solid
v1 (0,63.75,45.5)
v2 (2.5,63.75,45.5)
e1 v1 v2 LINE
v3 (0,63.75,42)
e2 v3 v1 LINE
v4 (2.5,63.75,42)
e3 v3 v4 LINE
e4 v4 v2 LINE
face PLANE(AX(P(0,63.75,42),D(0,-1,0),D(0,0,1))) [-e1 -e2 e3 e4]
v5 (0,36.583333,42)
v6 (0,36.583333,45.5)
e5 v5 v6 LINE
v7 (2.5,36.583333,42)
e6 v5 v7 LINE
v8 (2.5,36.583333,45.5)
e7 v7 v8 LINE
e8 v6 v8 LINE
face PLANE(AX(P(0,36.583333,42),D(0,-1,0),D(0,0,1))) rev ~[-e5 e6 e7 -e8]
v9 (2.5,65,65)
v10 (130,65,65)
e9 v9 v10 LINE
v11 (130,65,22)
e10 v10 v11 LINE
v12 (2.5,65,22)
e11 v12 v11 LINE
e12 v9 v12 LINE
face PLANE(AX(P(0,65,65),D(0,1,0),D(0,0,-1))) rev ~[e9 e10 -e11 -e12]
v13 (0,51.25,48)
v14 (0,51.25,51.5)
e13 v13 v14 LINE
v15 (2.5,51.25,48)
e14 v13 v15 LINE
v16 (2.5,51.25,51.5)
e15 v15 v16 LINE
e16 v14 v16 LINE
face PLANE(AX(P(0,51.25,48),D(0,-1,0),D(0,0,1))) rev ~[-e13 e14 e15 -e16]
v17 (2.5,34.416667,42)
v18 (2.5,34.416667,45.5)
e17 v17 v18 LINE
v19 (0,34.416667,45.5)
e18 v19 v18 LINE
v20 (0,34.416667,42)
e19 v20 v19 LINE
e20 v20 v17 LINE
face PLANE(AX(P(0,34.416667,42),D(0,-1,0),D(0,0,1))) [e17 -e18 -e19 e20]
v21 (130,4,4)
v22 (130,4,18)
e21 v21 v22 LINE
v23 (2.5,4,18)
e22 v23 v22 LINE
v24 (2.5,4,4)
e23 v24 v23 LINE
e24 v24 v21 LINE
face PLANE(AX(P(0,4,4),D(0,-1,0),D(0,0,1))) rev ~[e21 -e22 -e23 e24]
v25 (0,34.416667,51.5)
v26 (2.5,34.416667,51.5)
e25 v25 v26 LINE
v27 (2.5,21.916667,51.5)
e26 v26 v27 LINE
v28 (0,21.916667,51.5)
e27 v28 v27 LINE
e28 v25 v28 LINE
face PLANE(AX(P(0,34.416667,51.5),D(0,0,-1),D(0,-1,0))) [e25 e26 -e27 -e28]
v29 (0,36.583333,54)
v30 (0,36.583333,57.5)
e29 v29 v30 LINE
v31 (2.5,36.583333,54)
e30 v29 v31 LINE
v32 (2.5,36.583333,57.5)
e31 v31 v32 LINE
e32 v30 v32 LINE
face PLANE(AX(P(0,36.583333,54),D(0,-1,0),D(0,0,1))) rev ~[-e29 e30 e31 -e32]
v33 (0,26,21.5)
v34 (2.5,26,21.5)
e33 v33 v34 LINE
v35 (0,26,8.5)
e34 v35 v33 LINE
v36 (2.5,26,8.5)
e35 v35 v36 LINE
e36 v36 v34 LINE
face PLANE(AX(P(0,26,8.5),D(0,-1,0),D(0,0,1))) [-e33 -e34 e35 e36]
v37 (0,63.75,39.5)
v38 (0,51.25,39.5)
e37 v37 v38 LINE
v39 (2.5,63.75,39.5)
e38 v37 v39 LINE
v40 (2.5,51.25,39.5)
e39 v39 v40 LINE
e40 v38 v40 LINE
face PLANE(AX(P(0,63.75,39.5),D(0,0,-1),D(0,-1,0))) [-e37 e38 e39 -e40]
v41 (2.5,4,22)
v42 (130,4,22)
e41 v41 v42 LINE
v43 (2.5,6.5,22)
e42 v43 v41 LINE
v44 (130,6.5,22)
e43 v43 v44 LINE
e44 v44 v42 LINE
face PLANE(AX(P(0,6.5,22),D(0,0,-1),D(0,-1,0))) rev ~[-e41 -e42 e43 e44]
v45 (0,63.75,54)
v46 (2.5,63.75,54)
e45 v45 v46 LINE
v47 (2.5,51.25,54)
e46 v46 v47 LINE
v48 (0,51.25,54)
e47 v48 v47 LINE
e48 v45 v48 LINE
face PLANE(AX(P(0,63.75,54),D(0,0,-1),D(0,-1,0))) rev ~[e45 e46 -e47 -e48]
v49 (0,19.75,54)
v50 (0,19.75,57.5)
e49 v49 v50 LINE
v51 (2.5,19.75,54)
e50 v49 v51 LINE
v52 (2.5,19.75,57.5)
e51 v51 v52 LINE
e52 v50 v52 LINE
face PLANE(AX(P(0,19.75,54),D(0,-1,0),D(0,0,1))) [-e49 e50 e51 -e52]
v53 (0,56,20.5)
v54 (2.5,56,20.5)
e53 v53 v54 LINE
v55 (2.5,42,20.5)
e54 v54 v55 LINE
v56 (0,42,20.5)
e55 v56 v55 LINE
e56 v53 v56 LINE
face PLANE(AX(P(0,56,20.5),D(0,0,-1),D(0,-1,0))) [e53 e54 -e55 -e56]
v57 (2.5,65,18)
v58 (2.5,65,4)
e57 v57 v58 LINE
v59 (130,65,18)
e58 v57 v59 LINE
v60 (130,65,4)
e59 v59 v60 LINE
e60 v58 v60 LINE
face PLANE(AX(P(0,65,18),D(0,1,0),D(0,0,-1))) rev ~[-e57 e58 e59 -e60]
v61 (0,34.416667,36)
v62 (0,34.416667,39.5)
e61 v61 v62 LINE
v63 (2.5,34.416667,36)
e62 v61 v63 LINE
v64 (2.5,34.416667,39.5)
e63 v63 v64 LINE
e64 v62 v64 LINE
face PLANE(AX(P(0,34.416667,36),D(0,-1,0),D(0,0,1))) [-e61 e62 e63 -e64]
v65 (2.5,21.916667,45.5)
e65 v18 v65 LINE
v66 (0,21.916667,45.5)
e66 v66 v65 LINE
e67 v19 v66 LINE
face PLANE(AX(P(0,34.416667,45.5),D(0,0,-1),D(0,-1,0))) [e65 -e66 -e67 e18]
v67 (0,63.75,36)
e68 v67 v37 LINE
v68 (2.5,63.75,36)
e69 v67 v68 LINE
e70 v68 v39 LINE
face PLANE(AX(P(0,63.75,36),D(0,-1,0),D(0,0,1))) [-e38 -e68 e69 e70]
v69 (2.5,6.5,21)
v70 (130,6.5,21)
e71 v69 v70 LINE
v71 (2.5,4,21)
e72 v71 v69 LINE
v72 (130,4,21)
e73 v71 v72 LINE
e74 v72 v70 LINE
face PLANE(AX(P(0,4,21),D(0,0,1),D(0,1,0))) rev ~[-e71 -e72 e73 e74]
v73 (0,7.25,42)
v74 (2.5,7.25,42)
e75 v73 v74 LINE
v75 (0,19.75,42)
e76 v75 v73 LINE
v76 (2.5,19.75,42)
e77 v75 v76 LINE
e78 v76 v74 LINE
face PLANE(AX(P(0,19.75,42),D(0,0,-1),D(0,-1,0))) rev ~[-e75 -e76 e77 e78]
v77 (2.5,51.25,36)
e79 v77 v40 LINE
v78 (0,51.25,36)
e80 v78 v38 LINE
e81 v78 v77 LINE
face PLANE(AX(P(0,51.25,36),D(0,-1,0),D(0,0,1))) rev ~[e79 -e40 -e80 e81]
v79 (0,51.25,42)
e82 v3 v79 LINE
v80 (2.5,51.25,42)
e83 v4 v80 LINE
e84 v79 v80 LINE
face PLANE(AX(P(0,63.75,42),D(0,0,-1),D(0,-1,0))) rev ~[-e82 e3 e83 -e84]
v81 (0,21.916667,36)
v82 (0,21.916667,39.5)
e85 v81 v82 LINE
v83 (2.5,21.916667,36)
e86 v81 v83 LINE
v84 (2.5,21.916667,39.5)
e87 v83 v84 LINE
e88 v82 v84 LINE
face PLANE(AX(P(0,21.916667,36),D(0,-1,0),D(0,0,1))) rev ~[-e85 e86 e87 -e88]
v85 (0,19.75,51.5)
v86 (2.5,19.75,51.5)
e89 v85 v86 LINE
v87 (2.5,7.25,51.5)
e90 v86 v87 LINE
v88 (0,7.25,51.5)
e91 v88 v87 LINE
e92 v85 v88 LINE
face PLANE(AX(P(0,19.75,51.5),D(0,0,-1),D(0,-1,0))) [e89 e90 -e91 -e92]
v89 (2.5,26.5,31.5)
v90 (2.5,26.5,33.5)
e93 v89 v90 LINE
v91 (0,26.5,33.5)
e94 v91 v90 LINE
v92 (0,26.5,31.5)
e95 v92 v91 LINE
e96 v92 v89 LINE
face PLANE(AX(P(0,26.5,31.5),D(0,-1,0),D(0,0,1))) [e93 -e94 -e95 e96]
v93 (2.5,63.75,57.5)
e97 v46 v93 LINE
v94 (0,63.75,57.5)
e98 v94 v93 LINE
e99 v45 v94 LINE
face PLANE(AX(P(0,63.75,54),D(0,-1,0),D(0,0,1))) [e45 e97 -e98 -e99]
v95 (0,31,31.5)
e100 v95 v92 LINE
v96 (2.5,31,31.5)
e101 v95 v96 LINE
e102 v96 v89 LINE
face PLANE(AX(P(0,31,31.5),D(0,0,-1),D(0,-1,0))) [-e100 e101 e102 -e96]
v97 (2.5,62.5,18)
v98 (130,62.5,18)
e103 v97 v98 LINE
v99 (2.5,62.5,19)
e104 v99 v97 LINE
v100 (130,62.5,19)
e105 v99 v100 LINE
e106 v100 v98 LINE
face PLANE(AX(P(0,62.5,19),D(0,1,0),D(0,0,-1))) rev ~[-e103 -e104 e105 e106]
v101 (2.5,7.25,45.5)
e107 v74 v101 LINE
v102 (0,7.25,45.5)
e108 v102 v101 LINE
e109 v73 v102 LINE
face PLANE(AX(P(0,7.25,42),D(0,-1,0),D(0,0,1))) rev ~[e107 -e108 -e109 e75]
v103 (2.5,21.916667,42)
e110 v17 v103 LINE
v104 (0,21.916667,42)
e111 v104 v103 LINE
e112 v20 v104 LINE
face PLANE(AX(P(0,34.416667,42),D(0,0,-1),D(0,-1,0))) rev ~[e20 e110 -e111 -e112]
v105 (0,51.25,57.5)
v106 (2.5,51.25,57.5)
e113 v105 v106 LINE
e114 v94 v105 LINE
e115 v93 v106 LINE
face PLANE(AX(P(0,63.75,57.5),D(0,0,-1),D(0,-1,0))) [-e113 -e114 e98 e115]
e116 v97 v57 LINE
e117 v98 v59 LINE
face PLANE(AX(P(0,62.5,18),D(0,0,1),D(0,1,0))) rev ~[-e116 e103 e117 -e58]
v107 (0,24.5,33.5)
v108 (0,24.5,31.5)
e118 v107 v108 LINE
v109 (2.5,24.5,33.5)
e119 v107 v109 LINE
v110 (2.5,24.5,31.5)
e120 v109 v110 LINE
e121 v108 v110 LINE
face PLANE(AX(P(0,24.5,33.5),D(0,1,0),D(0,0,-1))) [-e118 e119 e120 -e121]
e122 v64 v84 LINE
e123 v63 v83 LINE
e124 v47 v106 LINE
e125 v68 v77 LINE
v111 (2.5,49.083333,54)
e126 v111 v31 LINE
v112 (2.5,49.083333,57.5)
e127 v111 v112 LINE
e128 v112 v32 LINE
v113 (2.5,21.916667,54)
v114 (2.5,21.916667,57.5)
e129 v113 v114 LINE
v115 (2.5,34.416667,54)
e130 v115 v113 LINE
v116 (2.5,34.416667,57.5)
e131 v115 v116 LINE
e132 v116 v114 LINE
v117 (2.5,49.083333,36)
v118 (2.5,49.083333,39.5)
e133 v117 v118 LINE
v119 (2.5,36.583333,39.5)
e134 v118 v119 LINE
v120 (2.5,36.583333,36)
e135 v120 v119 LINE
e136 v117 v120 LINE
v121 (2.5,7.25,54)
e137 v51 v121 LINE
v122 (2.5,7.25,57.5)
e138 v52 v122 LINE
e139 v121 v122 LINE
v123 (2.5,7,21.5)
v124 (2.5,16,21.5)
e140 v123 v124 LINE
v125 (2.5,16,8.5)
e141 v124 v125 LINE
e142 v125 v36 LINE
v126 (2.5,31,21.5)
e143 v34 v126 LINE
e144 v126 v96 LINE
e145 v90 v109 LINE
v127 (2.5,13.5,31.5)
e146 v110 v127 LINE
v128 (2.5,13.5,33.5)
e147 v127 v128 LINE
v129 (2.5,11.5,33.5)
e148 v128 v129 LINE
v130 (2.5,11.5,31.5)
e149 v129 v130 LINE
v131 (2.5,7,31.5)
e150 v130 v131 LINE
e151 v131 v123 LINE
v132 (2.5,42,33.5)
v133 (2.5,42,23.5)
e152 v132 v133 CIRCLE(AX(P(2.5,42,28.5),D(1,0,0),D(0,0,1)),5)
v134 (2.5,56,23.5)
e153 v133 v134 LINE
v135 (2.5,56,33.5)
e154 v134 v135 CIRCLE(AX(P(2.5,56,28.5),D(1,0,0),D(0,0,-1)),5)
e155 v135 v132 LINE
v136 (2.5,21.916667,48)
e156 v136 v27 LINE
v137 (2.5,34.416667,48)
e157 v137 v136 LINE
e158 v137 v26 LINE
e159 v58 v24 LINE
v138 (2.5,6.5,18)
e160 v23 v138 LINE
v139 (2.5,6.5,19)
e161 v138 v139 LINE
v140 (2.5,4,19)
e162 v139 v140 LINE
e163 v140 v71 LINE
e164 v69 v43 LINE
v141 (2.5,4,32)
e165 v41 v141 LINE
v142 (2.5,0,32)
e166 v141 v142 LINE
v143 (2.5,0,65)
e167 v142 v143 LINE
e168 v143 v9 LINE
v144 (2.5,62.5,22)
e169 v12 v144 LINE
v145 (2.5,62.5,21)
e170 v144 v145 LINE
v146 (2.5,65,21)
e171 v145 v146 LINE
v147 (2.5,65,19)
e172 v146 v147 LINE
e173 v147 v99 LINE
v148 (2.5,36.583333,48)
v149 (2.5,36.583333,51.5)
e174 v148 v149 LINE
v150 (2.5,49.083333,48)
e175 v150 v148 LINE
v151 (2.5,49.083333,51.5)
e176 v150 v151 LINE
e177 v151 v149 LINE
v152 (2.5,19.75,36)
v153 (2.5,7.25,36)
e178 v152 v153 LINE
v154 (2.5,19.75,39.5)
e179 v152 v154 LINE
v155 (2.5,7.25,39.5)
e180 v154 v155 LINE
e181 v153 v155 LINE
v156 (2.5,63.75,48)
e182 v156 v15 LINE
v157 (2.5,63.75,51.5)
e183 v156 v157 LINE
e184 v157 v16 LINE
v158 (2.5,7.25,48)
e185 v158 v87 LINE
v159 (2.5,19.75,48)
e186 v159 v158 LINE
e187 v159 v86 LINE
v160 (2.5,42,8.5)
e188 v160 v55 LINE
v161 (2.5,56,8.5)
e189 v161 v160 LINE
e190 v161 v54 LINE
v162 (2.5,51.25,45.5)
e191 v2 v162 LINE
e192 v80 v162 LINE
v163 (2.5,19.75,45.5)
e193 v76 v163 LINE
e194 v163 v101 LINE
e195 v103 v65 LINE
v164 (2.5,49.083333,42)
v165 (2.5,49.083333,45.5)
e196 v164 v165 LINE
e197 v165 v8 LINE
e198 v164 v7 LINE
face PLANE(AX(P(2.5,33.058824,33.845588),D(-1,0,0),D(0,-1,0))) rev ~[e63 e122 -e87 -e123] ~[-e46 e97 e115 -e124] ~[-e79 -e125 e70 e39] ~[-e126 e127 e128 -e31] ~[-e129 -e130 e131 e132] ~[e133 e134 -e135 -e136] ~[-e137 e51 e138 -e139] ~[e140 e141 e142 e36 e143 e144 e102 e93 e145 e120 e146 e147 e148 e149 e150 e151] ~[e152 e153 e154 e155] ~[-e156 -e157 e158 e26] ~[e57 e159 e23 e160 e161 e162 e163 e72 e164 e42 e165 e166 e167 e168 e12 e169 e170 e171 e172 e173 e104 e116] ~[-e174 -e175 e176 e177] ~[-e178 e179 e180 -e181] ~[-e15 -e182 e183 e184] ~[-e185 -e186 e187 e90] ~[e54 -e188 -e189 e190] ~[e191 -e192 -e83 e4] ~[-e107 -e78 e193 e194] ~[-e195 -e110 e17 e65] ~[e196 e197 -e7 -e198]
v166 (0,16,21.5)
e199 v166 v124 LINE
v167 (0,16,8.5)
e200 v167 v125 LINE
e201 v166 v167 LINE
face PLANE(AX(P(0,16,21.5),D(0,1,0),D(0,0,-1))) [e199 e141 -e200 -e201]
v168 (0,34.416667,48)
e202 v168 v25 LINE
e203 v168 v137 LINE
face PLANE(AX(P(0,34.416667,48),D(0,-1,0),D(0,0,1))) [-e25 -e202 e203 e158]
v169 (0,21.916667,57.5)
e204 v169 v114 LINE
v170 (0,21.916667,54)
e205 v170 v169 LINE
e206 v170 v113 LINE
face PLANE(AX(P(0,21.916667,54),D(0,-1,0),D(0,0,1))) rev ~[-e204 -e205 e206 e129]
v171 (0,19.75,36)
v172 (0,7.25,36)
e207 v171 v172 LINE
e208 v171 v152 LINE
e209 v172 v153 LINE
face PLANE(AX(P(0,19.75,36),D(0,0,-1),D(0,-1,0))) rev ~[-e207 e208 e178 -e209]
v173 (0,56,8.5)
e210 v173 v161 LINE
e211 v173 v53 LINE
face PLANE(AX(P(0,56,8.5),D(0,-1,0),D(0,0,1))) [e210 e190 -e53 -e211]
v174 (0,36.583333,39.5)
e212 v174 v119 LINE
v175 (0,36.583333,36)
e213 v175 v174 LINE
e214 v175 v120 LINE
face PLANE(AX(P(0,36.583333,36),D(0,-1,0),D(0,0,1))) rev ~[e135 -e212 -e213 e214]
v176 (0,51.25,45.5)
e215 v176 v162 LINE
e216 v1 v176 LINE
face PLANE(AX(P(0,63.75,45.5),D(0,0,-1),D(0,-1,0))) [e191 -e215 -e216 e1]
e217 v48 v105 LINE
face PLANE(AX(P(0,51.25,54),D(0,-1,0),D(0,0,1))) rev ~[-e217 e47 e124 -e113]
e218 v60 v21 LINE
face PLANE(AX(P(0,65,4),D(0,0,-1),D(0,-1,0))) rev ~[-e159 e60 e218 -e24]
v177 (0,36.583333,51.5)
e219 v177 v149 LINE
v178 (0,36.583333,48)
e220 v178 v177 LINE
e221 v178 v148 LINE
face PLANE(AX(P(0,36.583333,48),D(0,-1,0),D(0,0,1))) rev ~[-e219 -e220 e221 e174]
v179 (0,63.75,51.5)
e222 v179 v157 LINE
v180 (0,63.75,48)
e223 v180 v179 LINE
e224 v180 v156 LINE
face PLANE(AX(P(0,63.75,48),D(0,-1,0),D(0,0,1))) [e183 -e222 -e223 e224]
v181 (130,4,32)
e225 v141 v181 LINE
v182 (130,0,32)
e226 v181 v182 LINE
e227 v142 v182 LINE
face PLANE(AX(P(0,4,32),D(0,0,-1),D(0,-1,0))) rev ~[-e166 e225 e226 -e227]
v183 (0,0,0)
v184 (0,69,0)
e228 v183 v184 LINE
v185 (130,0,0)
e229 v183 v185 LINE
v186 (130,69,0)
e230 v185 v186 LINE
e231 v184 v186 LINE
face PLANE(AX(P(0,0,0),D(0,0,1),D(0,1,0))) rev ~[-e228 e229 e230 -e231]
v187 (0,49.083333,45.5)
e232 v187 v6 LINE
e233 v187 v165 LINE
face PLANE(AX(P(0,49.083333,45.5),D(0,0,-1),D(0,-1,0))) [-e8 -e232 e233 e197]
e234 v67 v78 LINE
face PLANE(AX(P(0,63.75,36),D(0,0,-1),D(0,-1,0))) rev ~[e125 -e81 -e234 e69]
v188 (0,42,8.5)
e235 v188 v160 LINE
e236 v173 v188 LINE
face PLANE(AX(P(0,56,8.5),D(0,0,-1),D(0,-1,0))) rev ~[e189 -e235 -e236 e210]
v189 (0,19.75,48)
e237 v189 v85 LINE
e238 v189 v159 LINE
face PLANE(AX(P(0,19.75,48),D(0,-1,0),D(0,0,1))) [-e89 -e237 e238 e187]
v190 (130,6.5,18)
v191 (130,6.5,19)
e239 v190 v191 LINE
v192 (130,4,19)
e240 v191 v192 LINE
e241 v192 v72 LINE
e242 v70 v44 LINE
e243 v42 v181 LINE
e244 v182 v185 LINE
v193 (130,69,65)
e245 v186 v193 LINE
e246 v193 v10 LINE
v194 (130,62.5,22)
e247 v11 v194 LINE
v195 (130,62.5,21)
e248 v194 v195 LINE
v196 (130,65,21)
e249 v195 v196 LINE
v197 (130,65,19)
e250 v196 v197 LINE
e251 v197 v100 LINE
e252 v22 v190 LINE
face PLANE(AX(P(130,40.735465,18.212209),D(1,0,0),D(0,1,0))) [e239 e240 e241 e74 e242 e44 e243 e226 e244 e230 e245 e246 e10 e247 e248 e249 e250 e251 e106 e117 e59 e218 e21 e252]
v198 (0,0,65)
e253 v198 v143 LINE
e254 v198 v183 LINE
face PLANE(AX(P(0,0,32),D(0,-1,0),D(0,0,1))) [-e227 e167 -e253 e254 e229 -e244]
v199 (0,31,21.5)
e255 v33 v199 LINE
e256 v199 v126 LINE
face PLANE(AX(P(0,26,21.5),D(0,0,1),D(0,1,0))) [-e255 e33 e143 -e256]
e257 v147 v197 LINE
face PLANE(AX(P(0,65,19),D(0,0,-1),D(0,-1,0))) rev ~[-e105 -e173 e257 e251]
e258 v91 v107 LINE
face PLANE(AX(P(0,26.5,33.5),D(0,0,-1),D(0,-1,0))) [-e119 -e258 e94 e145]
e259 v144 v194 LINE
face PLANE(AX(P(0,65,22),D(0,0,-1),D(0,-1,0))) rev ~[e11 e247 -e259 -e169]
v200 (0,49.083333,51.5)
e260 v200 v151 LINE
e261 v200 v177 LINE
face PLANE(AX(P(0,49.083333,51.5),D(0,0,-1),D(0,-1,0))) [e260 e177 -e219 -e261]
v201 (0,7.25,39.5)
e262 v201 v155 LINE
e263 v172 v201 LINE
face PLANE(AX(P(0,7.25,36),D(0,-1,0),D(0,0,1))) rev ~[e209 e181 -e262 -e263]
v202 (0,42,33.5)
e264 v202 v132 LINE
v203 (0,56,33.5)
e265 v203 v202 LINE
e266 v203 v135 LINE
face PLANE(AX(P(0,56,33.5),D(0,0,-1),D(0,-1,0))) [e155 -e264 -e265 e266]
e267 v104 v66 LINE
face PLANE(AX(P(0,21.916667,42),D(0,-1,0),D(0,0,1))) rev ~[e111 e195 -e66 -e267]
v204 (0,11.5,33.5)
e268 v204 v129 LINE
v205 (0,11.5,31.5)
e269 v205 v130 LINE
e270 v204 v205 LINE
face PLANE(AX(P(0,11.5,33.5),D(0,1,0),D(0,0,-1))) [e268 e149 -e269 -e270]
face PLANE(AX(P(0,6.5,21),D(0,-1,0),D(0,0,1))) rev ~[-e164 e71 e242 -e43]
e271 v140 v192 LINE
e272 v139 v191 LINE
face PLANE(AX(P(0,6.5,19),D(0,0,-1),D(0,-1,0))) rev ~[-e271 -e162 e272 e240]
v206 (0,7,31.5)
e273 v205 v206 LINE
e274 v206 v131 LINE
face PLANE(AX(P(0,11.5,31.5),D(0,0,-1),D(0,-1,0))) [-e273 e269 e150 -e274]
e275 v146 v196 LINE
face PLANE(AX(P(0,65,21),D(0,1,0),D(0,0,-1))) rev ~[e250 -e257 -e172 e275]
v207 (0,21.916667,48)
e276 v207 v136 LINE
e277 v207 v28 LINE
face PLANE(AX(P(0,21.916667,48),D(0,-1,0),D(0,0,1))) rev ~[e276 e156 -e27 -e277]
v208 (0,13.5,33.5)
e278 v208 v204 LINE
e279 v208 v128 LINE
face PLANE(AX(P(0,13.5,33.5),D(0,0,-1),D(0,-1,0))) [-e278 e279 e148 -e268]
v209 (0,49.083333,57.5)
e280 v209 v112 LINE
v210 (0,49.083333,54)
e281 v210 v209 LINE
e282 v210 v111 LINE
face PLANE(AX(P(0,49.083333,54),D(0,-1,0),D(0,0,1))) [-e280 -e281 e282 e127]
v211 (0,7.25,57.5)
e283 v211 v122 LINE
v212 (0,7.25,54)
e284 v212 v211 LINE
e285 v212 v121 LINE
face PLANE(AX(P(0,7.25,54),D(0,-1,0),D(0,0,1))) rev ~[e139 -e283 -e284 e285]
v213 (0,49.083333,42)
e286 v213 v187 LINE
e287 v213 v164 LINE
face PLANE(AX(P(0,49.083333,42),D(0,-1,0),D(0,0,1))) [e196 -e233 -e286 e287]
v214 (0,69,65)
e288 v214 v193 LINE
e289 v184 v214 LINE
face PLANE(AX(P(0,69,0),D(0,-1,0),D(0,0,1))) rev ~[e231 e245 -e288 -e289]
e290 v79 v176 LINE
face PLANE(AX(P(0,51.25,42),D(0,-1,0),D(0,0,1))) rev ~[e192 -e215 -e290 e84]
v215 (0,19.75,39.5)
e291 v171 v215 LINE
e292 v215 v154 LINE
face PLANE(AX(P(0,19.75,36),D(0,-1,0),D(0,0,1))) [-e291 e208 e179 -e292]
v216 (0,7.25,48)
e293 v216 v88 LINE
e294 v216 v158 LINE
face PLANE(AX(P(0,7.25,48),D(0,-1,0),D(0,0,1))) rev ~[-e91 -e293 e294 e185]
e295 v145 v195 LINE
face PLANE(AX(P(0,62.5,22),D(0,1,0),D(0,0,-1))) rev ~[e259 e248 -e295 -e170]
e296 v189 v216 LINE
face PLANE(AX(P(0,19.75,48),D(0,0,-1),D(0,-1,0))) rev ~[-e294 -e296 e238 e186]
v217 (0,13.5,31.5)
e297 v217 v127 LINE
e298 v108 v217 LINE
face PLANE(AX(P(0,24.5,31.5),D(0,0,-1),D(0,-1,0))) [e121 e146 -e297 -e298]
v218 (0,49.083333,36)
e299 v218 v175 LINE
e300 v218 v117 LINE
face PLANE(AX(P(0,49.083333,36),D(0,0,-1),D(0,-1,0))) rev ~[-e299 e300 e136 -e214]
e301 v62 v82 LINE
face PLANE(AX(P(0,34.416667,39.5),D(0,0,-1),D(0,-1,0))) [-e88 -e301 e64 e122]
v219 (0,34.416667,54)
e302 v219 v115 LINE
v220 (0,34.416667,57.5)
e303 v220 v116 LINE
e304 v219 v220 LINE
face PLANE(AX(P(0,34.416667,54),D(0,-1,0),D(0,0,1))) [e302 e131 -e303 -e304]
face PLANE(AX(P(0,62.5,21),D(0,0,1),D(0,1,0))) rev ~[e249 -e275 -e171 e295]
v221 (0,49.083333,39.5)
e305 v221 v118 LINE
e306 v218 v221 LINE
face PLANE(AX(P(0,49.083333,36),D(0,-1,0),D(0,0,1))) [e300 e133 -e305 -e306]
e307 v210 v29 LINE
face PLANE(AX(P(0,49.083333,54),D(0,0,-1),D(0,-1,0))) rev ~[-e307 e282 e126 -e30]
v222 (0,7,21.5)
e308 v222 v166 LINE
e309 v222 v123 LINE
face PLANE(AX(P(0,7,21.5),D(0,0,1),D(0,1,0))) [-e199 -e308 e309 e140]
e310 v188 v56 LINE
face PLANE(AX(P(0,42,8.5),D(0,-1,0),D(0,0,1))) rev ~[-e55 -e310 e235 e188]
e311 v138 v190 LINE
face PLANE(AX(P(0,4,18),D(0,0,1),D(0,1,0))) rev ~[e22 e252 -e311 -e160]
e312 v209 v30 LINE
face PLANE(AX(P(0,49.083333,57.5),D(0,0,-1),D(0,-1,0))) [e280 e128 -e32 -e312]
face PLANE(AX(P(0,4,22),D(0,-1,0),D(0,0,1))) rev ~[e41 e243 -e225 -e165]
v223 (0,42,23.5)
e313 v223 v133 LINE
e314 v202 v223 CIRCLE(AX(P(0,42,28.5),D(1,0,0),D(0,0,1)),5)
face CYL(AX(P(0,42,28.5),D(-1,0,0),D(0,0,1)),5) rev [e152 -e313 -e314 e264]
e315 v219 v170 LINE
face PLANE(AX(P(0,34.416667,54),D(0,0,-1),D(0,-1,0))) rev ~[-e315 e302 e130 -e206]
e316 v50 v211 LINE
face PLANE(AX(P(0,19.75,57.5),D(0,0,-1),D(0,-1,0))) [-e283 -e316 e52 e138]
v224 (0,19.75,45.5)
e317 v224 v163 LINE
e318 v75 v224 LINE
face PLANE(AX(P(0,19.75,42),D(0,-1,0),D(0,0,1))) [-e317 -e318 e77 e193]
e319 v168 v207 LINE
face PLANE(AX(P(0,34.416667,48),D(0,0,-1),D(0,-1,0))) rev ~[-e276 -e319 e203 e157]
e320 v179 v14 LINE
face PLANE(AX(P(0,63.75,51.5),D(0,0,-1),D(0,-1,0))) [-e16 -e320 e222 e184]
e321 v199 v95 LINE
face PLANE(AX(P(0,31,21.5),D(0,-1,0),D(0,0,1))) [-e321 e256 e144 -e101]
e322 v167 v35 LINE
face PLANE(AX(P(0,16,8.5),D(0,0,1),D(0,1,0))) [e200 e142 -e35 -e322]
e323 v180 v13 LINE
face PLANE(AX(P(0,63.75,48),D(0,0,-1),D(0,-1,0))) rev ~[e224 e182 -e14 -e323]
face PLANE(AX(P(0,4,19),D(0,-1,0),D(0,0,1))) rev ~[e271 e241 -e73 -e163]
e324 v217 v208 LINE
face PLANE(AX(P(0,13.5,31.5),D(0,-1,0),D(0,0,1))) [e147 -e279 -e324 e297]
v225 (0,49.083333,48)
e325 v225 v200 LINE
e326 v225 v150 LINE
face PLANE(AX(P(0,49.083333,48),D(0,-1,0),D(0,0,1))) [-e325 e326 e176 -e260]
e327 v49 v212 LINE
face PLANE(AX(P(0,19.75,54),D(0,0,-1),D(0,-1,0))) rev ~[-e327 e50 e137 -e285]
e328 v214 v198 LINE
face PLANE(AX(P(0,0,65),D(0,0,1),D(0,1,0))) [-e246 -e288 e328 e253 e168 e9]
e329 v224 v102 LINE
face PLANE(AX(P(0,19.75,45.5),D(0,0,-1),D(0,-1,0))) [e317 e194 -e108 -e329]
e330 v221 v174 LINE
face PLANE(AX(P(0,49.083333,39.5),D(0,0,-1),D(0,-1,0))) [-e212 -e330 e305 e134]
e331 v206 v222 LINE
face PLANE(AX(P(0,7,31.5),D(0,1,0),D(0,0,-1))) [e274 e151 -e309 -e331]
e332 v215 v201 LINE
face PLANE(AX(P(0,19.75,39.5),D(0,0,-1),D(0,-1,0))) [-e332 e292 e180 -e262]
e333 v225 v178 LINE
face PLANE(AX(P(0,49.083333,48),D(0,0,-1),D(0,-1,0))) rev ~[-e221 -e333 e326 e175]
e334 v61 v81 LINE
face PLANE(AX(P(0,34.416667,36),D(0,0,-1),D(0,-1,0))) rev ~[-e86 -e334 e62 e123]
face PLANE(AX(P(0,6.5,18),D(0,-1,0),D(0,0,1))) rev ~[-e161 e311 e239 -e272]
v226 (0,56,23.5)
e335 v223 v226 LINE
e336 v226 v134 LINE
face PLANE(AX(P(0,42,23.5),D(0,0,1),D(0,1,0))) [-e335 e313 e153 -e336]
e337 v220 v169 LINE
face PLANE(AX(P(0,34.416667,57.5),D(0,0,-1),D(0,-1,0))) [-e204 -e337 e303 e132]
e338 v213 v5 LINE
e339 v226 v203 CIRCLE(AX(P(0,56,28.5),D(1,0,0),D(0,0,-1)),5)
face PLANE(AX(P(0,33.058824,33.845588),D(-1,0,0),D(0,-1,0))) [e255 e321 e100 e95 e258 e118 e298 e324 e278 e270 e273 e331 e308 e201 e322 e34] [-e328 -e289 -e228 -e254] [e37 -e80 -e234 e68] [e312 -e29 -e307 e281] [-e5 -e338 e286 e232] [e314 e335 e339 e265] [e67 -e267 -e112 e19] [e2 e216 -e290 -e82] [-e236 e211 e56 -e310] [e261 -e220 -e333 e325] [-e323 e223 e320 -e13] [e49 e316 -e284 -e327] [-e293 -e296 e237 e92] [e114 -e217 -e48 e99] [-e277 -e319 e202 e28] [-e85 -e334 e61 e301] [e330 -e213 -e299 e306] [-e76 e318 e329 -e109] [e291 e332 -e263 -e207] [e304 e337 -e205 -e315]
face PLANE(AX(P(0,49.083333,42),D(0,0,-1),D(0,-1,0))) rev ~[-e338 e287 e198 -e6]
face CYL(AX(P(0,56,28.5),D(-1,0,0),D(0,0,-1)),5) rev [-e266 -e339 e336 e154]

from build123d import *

# Parameters (mm, degrees)
F1_DEPTH = 130
F2_W     = 14
F2_H     = 12
F2_W_2   = 12.5
F2_H_2   = 3.5
F3_DEPTH = 2.5


with BuildPart() as f1:
    # F0 (on Right) → F1 (new body)
    with BuildSketch(Plane.YZ):
        Polygon((0, 32), (0, 0), (69, 0), (69, 65), (65, 65), (65, 22), (62.5, 22), (62.5, 21), (65, 21), (65, 19), (62.5, 19), (62.5, 18), (65, 18), (65, 4), (4, 4), (4, 18), (6.5, 18), (6.5, 19), (4, 19), (4, 21), (6.5, 21), (6.5, 22), (4, 22), (4, 32), align=None)
    extrude(amount=F1_DEPTH)

    # F2 (on face) → F3 (join)
    with BuildSketch(Plane(origin=(0, 0, 0), x_dir=(0, -1, 0), z_dir=(-1, 0, 0))):
        Polygon((-4, 32), (0, 32), (0, 65), (-65, 65), (-65, 22), (-62.5, 22), (-62.5, 21), (-65, 21), (-65, 19), (-62.5, 19), (-62.5, 18), (-65, 18), (-65, 4), (-4, 4), (-4, 18), (-6.5, 18), (-6.5, 19), (-4, 19), (-4, 21), (-6.5, 21), (-6.5, 22), (-4, 22), align=None)
        with Locations((-49, 14.5)):
            Rectangle(F2_W, F2_H, mode=Mode.SUBTRACT)
        with BuildLine():
            Line((-42, 23.5), (-56, 23.5))
            ThreePointArc((-56, 23.5), (-61, 28.5), (-56, 33.5))
            Line((-56, 33.5), (-42, 33.5))
            ThreePointArc((-42, 33.5), (-37, 28.5), (-42, 23.5))
        make_face(mode=Mode.SUBTRACT)
        Polygon((-11.5, 31.5), (-7, 31.5), (-7, 21.5), (-16, 21.5), (-16, 8.5), (-26, 8.5), (-26, 21.5), (-31, 21.5), (-31, 31.5), (-26.5, 31.5), (-26.5, 33.5), (-24.5, 33.5), (-24.5, 31.5), (-13.5, 31.5), (-13.5, 33.5), (-11.5, 33.5), align=None, mode=Mode.SUBTRACT)
        with Locations((-57.5, 37.75)):
            Rectangle(F2_W_2, F2_H_2, mode=Mode.SUBTRACT)
        with Locations((-57.5, 43.75)):
            Rectangle(F2_W_2, F2_H_2, mode=Mode.SUBTRACT)
        with Locations((-42.833333, 37.75)):
            Rectangle(F2_W_2, F2_H_2, mode=Mode.SUBTRACT)
        with Locations((-42.833333, 43.75)):
            Rectangle(F2_W_2, F2_H_2, mode=Mode.SUBTRACT)
        with Locations((-57.5, 49.75)):
            Rectangle(F2_W_2, F2_H_2, mode=Mode.SUBTRACT)
        with Locations((-57.5, 55.75)):
            Rectangle(F2_W_2, F2_H_2, mode=Mode.SUBTRACT)
        with Locations((-42.833333, 49.75)):
            Rectangle(F2_W_2, F2_H_2, mode=Mode.SUBTRACT)
        with Locations((-42.833333, 55.75)):
            Rectangle(F2_W_2, F2_H_2, mode=Mode.SUBTRACT)
        with Locations((-28.166667, 37.75)):
            Rectangle(F2_W_2, F2_H_2, mode=Mode.SUBTRACT)
        with Locations((-28.166667, 43.75)):
            Rectangle(F2_W_2, F2_H_2, mode=Mode.SUBTRACT)
        with Locations((-13.5, 37.75)):
            Rectangle(F2_W_2, F2_H_2, mode=Mode.SUBTRACT)
        with Locations((-13.5, 43.75)):
            Rectangle(F2_W_2, F2_H_2, mode=Mode.SUBTRACT)
        with Locations((-28.166667, 49.75)):
            Rectangle(F2_W_2, F2_H_2, mode=Mode.SUBTRACT)
        with Locations((-28.166667, 55.75)):
            Rectangle(F2_W_2, F2_H_2, mode=Mode.SUBTRACT)
        with Locations((-13.5, 49.75)):
            Rectangle(F2_W_2, F2_H_2, mode=Mode.SUBTRACT)
        with Locations((-13.5, 55.75)):
            Rectangle(F2_W_2, F2_H_2, mode=Mode.SUBTRACT)
    extrude(amount=-F3_DEPTH)


solid = f1.part
